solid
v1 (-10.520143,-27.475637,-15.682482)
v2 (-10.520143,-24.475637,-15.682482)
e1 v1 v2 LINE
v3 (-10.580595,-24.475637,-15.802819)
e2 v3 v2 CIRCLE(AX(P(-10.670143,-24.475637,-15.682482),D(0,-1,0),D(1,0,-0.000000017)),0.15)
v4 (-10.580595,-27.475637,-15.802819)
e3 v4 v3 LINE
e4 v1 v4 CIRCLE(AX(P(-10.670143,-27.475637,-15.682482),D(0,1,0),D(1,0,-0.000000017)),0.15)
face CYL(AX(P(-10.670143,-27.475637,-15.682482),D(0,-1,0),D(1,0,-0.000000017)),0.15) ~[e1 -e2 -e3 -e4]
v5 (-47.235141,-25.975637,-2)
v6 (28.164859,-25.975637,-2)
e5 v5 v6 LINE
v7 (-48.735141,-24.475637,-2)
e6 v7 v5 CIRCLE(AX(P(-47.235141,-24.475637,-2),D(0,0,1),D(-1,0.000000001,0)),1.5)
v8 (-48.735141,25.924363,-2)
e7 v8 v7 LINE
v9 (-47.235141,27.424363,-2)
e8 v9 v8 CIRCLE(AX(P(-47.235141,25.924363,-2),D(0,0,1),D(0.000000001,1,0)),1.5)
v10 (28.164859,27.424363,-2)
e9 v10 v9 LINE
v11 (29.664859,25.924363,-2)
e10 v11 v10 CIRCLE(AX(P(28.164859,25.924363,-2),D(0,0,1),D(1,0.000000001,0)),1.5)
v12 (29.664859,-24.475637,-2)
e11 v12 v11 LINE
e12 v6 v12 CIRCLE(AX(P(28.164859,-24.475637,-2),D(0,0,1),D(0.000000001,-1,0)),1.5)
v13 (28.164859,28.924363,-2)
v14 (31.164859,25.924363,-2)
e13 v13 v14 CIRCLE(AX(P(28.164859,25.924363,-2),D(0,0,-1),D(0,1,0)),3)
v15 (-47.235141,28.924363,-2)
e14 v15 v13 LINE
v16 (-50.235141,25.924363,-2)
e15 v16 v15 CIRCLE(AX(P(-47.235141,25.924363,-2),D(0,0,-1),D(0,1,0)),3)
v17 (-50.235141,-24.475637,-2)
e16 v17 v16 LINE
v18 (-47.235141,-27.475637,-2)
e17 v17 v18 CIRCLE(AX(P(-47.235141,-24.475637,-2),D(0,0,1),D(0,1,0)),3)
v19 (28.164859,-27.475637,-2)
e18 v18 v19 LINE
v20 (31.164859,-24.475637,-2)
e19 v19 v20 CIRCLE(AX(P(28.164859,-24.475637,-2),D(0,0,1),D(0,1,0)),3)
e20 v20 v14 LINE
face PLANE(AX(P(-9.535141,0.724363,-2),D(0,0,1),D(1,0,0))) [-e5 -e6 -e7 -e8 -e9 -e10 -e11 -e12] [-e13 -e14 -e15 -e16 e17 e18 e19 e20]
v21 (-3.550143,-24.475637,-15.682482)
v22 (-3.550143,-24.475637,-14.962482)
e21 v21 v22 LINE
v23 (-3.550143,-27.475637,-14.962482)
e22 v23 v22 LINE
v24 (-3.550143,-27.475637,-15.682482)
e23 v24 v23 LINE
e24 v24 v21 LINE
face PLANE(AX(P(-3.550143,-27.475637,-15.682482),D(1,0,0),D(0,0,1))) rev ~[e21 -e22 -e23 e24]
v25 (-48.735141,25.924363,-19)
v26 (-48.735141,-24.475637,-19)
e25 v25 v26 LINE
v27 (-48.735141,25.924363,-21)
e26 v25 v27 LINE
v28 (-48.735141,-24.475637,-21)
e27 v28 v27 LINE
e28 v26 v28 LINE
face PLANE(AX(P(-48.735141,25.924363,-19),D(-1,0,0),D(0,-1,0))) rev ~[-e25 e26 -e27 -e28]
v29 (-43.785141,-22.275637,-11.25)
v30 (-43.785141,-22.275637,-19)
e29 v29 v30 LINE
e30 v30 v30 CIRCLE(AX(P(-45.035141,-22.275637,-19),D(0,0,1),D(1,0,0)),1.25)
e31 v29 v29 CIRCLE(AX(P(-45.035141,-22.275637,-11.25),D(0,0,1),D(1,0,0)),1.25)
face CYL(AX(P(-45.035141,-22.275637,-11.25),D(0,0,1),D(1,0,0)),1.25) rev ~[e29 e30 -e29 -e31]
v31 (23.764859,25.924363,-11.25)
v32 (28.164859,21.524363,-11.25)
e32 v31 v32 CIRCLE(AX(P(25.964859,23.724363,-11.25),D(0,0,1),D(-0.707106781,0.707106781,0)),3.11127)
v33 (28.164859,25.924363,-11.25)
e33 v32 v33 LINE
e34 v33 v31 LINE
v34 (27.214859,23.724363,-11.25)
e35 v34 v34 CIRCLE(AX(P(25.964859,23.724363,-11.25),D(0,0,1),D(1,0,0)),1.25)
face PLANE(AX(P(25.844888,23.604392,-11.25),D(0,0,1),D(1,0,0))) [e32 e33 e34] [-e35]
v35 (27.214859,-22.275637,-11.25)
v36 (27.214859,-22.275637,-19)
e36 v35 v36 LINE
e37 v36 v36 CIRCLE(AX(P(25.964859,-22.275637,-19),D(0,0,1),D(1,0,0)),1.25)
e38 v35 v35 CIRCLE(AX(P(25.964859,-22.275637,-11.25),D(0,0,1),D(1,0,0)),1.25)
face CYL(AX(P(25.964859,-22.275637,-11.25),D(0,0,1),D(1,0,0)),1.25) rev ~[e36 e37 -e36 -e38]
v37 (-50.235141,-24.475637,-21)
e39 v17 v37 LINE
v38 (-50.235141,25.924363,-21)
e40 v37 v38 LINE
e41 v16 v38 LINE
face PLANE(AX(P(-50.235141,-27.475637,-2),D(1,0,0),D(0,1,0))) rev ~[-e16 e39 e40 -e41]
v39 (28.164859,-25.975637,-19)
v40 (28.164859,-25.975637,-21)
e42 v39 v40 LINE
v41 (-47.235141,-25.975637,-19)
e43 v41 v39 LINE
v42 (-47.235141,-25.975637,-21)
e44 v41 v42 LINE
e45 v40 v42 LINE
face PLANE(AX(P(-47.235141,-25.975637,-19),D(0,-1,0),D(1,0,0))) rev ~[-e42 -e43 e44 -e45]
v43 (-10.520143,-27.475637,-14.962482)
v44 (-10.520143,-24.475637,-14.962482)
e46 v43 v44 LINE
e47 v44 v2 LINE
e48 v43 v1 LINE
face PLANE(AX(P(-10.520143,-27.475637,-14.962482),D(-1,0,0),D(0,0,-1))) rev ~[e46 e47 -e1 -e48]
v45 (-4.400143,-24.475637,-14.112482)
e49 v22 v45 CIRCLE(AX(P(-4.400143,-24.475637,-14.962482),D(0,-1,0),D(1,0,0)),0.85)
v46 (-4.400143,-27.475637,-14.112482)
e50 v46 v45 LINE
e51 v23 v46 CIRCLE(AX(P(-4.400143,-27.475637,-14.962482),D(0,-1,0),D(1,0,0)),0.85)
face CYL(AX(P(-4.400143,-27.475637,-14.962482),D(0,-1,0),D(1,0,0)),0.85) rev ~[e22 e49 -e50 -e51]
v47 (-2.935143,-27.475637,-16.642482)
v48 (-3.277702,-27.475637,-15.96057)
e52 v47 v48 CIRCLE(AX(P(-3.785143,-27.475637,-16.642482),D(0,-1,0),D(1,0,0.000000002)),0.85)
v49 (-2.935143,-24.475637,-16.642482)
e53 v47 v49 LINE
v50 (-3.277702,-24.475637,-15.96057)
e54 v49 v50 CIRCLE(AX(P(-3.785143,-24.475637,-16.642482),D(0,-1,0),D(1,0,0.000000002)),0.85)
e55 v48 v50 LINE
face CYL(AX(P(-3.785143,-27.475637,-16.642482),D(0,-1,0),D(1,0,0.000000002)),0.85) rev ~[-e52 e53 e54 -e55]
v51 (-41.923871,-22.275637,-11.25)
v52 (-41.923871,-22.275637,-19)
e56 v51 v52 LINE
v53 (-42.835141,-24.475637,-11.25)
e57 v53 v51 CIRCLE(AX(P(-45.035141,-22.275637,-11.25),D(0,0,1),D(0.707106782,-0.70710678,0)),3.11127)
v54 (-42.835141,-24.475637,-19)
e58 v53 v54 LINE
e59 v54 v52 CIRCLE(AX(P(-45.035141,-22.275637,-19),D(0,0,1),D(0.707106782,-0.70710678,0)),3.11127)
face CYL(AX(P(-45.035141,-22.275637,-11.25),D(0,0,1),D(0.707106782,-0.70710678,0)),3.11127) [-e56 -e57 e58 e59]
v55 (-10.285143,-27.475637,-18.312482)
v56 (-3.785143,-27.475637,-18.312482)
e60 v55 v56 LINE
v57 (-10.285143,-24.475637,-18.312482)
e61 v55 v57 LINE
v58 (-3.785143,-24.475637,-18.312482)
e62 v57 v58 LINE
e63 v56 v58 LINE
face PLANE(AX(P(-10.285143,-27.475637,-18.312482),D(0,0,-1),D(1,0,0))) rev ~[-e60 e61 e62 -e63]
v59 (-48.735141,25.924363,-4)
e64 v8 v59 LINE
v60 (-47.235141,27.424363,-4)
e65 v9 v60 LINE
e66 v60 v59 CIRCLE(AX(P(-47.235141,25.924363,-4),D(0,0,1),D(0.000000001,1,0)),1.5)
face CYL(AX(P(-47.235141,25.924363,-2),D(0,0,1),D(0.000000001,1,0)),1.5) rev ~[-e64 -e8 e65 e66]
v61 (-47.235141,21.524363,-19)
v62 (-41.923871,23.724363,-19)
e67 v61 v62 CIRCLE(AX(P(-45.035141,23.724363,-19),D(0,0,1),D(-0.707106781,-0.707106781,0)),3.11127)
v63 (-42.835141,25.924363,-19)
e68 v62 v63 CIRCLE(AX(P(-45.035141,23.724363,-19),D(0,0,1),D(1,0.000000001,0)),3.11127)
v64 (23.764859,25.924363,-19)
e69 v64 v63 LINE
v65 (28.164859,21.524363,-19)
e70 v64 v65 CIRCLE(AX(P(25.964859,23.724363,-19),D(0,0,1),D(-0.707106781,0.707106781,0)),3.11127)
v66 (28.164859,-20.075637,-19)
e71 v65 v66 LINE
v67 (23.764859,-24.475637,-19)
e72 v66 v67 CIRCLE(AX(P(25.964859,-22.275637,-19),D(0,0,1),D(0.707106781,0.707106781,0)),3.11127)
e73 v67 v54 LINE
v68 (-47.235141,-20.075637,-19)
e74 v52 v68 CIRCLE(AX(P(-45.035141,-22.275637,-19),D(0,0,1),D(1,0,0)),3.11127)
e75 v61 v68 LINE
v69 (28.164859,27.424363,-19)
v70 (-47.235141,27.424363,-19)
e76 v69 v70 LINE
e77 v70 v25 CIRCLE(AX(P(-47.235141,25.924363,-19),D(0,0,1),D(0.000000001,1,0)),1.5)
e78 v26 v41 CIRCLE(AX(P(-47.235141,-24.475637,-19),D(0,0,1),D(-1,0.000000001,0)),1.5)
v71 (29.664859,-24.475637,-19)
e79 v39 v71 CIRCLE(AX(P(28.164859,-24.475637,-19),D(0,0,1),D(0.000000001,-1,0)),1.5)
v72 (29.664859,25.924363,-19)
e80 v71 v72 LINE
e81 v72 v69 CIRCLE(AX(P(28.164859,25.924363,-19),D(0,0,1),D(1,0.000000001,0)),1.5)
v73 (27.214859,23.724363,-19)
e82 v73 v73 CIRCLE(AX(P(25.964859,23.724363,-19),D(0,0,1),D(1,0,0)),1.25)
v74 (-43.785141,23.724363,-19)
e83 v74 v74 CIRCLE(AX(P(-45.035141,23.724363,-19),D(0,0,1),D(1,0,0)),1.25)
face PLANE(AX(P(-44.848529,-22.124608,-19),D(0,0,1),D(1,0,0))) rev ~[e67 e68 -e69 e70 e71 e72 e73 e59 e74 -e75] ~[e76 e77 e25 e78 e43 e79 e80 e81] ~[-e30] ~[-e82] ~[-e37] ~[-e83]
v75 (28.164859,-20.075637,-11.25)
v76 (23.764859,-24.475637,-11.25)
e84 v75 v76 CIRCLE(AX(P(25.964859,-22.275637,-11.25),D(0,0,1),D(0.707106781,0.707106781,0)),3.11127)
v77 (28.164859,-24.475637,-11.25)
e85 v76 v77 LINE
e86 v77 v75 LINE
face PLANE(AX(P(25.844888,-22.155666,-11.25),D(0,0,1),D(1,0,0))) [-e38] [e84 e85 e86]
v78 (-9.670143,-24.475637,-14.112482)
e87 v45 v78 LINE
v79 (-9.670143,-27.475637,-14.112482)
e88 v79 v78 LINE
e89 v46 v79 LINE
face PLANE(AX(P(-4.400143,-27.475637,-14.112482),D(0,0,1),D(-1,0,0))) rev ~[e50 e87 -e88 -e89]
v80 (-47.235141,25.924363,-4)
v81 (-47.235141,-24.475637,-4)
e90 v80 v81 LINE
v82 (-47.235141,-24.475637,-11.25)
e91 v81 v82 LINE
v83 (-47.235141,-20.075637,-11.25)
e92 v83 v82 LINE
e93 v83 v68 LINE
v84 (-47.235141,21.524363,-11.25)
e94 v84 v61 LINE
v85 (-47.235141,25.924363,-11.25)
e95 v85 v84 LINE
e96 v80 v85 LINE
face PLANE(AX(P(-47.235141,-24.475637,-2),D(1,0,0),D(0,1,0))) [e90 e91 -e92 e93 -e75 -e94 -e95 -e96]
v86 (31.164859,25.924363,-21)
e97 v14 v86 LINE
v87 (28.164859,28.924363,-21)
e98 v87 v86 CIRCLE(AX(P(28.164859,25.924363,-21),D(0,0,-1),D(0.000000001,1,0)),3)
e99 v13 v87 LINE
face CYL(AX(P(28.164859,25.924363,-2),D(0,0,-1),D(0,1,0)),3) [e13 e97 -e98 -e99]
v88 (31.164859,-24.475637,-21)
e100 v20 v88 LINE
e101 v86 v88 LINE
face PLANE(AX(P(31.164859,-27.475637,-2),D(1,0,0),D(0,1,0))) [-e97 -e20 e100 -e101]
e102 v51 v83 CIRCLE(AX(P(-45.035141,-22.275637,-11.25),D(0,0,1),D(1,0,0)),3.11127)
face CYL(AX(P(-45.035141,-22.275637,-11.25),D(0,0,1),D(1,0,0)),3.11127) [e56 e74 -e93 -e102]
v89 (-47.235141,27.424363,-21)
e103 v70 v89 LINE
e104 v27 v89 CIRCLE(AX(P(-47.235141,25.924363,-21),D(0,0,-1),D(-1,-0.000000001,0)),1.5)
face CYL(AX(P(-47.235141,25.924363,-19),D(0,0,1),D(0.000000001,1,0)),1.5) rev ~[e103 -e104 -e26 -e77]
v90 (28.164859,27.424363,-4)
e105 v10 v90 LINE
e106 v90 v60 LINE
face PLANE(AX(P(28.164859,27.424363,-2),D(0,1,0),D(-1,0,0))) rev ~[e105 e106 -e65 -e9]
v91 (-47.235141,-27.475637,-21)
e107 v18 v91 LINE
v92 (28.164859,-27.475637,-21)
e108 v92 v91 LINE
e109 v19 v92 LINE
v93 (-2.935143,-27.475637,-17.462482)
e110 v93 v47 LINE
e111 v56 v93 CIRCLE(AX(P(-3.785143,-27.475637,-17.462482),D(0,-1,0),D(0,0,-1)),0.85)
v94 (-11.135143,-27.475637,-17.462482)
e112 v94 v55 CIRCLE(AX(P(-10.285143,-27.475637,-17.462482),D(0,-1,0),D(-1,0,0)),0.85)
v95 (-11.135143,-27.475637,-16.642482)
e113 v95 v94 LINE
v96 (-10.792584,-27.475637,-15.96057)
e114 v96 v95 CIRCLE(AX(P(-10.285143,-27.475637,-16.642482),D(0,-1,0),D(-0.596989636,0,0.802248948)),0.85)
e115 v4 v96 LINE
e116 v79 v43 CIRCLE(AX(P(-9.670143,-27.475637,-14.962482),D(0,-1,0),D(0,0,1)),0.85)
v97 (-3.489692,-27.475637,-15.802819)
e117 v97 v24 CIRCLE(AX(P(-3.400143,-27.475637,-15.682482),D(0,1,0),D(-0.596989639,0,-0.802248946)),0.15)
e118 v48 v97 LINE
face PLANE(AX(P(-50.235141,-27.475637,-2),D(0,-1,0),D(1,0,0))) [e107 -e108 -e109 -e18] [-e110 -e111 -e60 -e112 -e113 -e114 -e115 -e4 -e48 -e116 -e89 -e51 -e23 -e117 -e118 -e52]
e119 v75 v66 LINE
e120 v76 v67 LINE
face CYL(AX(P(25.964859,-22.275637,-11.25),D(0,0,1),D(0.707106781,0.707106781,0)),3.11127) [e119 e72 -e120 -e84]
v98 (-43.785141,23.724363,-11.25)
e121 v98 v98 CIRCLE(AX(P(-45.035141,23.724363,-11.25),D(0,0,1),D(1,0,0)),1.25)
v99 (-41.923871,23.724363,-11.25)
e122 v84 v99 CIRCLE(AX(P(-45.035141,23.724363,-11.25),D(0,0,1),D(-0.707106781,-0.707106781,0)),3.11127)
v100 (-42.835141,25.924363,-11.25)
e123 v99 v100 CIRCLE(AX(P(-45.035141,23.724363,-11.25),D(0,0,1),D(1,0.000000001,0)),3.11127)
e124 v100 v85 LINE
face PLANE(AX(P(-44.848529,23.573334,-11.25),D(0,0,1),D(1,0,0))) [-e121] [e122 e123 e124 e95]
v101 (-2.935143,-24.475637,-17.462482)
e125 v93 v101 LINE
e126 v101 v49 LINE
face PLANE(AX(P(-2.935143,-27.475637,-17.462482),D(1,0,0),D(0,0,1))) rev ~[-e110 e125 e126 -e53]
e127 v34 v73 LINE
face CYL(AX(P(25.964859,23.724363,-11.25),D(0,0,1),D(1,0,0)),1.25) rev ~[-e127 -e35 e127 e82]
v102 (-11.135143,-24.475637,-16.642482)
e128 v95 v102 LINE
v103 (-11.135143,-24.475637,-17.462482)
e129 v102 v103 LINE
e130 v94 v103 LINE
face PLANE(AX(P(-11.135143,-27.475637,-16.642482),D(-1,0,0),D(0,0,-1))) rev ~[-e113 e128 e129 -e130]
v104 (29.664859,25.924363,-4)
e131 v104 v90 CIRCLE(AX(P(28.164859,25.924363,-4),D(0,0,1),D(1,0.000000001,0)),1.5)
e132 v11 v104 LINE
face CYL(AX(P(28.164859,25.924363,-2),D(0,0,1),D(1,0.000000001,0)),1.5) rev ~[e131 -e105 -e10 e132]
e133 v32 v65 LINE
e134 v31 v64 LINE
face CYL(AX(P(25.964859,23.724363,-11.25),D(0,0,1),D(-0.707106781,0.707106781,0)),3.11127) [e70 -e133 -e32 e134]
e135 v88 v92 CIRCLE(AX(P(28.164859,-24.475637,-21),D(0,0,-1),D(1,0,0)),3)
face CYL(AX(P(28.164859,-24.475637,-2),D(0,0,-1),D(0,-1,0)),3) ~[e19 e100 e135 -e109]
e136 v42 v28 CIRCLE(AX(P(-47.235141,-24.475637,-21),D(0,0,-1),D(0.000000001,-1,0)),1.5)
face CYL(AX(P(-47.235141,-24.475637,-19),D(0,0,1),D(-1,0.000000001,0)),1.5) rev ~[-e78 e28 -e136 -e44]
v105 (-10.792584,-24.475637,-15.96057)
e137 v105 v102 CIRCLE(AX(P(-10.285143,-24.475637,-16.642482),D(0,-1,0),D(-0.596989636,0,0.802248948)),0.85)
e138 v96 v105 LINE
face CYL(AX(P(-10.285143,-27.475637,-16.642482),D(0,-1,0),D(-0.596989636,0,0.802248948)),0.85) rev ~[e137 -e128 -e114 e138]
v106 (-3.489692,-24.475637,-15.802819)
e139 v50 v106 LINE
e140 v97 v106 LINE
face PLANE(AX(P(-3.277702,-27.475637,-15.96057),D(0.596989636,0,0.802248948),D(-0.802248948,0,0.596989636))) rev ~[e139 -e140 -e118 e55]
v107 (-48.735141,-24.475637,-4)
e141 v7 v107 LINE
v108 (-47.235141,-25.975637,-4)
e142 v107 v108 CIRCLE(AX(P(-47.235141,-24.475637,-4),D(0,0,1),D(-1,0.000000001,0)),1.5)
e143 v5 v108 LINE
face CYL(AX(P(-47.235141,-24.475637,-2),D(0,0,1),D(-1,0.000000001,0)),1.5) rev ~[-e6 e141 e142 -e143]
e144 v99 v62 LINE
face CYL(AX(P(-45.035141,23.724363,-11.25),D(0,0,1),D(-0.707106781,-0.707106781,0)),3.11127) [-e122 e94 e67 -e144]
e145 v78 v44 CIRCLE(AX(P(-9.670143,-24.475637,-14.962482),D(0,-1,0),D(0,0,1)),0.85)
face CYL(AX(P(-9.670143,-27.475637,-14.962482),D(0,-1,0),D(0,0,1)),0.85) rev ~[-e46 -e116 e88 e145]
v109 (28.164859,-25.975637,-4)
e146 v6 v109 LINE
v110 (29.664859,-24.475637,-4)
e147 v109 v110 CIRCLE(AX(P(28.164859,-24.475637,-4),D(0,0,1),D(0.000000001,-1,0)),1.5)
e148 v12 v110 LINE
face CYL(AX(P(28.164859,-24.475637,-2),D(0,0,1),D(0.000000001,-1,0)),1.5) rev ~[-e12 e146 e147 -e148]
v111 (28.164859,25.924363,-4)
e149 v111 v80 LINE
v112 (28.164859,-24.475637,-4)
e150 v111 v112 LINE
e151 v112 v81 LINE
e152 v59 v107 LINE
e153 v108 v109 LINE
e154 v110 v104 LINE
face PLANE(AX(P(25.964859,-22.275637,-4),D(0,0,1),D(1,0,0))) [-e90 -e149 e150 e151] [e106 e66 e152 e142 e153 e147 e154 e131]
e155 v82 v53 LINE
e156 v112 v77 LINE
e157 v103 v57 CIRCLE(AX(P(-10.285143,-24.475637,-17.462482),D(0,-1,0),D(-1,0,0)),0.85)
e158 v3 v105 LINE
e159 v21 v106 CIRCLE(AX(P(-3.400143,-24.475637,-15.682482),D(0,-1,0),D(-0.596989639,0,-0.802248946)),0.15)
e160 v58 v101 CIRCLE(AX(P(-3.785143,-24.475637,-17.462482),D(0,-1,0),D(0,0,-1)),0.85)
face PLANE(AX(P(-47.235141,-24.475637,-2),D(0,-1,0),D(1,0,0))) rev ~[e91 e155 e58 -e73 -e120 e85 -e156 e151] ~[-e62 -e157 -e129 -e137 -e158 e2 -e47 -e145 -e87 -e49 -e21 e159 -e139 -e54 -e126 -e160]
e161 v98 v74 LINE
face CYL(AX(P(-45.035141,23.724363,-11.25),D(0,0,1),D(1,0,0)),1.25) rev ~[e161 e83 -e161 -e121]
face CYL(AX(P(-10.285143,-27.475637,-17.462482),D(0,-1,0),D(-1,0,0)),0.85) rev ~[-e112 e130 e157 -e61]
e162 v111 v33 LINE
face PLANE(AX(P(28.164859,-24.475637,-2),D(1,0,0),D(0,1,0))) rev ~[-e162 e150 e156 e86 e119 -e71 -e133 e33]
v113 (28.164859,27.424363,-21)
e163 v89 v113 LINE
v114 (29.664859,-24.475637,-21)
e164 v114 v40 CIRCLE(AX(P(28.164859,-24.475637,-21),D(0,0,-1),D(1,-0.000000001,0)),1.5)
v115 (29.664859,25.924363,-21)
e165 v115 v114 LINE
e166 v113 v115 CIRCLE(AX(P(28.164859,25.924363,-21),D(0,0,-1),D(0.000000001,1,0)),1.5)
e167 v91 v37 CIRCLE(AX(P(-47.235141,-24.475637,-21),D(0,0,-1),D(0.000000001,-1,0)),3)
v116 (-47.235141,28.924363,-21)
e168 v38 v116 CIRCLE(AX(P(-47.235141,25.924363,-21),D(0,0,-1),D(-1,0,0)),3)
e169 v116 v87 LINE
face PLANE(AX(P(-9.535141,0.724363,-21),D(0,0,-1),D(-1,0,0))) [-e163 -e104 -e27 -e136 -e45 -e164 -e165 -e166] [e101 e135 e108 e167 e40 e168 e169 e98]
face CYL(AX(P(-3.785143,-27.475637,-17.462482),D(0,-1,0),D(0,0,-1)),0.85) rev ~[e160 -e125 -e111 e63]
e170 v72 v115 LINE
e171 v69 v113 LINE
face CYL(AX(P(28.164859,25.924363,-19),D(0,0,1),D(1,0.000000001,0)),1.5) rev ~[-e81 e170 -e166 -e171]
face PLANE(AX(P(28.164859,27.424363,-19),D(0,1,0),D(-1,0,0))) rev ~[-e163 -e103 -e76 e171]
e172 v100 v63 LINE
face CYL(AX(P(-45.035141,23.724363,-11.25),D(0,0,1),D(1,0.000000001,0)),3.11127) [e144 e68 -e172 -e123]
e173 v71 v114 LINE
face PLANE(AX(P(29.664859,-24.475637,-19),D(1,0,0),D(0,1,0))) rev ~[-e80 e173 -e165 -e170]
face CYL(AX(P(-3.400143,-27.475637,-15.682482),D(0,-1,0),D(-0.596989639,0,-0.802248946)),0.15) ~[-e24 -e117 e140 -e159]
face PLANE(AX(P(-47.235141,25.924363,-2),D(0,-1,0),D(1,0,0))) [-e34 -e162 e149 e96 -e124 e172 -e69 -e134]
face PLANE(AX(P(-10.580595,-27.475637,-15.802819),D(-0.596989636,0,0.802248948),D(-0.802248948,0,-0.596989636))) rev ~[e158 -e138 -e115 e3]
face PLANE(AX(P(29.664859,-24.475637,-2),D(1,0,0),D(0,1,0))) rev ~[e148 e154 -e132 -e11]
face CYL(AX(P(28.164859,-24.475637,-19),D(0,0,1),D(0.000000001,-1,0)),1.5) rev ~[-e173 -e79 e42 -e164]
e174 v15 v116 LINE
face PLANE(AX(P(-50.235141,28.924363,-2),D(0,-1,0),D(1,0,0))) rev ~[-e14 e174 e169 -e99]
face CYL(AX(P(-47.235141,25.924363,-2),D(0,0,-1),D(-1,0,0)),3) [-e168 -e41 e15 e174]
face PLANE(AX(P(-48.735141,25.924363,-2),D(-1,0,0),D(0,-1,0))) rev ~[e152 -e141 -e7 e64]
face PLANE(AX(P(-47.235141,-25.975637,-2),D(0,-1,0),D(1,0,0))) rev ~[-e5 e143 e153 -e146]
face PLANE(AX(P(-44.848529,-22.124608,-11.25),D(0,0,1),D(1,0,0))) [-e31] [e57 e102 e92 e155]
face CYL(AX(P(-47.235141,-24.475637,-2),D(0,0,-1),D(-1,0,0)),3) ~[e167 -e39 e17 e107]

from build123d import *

# Parameters (mm, degrees)
BOSS_EXTRUDE1_START = -2
SKETCH1_W           = 81.4
SKETCH1_H           = 56.4
SKETCH1_W_2         = 75.4
SKETCH1_H_2         = 50.4
BOSS_EXTRUDE1_DEPTH = 27
FILLET1_R           = 3
SKETCH2_R           = 1.3
CUT_EXTRUDE1_DEPTH  = 2
CUT_EXTRUDE2_START  = -17
SKETCH2_3_R         = 1.3
CUT_EXTRUDE2_DEPTH  = 10
BOSS_EXTRUDE2_START = -7.25
SKETCH3_R           = 1.25
BOSS_EXTRUDE2_DEPTH = 7.75
CUT_EXTRUDE3_DEPTH  = 28.2
CUT_EXTRUDE4_START  = -8
CUT_EXTRUDE4_DEPTH  = 8


with BuildPart() as part:
    # Sketch1 → Boss-Extrude1 (new body)
    with BuildSketch(Plane.XY.offset(BOSS_EXTRUDE1_START)):
        with Locations((-9.535141298, 0.724362859)):
            Rectangle(SKETCH1_W, SKETCH1_H)
        with Locations((-9.535141298, 0.724362859)):
            Rectangle(SKETCH1_W_2, SKETCH1_H_2, mode=Mode.SUBTRACT)
    extrude(amount=-BOSS_EXTRUDE1_DEPTH)

    # Fillet1
    fillet1_edges = [part.edges().sort_by_distance(p)[0] for p in [
        (-50.235141298, -27.475637141, -15.5),
        (-50.235141298, 28.924362859, -15.5),
        (31.164858702, 28.924362859, -15.5),
        (31.164858702, -27.475637141, -15.5),
    ]]
    fillet(fillet1_edges, radius=FILLET1_R)

    # Sketch2 → Cut-Extrude1 (cut)
    with BuildSketch(Plane.XY.offset(-2)):
        with Locations((25.964858702, -22.275637141)):
            Circle(SKETCH2_R)
        with BuildLine():
            Line((28.164858702, 27.424362859), (-47.235141298, 27.424362859))
            ThreePointArc((-47.235141298, 27.424362859), (-48.29580147, 26.985023031), (-48.735141298, 25.924362859))
            Line((-48.735141298, 25.924362859), (-48.735141298, -24.475637141))
            ThreePointArc((-48.735141298, -24.475637141), (-48.29580147, -25.536297313), (-47.235141298, -25.975637141))
            Line((-47.235141298, -25.975637141), (28.164858702, -25.975637141))
            ThreePointArc((28.164858702, -25.975637141), (29.225518873, -25.536297313), (29.664858702, -24.475637141))
            Line((29.664858702, -24.475637141), (29.664858702, 25.924362859))
            ThreePointArc((29.664858702, 25.924362859), (29.225518873, 26.985023031), (28.164858702, 27.424362859))
        make_face()
    extrude(amount=-CUT_EXTRUDE1_DEPTH, mode=Mode.SUBTRACT)

    # Sketch2<3> → Cut-Extrude2 (cut)
    with BuildSketch(Plane.XY.offset(-2).offset(CUT_EXTRUDE2_START)):
        with BuildLine():
            Line((28.164858702, 27.424362859), (-47.235141298, 27.424362859))
            ThreePointArc((-47.235141298, 27.424362859), (-48.29580147, 26.985023031), (-48.735141298, 25.924362859))
            Line((-48.735141298, 25.924362859), (-48.735141298, -24.475637141))
            ThreePointArc((-48.735141298, -24.475637141), (-48.29580147, -25.536297313), (-47.235141298, -25.975637141))
            Line((-47.235141298, -25.975637141), (28.164858702, -25.975637141))
            ThreePointArc((28.164858702, -25.975637141), (29.225518873, -25.536297313), (29.664858702, -24.475637141))
            Line((29.664858702, -24.475637141), (29.664858702, 25.924362859))
            ThreePointArc((29.664858702, 25.924362859), (29.225518873, 26.985023031), (28.164858702, 27.424362859))
        make_face()
        with Locations((25.964858702, 23.724362859)):
            Circle(SKETCH2_3_R, mode=Mode.SUBTRACT)
        with Locations((-45.035141298, 23.724362859)):
            Circle(SKETCH2_3_R, mode=Mode.SUBTRACT)
        with Locations((-45.035141298, -22.275637141)):
            Circle(SKETCH2_3_R, mode=Mode.SUBTRACT)
        with Locations((25.964858702, -22.275637141)):
            Circle(SKETCH2_3_R, mode=Mode.SUBTRACT)
    extrude(amount=-CUT_EXTRUDE2_DEPTH, mode=Mode.SUBTRACT)

    # Sketch3 → Boss-Extrude2 (add)
    # profile 1 of 4: a face of its own
    with BuildSketch(Plane.XY.offset(-4).offset(BOSS_EXTRUDE2_START)):
        with BuildLine():
            Line((-47.235141298, -24.475637141), (-42.835141298, -24.475637141))
            ThreePointArc((-42.835141298, -24.475637141), (-42.160702776, -23.466268561), (-41.923871461, -22.275637141))
            ThreePointArc((-41.923871461, -22.275637141), (-43.844509878, -19.401198618), (-47.235141298, -20.075637141))
            Line((-47.235141298, -20.075637141), (-47.235141298, -24.475637141))
        make_face()
        with Locations((-45.035141298, -22.275637141)):
            Circle(SKETCH3_R, mode=Mode.SUBTRACT)
    # profile 2 of 4: a face of its own
    with BuildSketch(Plane.XY.offset(-4).offset(BOSS_EXTRUDE2_START)):
        with BuildLine():
            ThreePointArc((-41.923871461, 23.724362859), (-42.160702776, 24.914994279), (-42.835141298, 25.924362859))
            Line((-42.835141298, 25.924362859), (-47.235141298, 25.924362859))
            Line((-47.235141298, 25.924362859), (-47.235141298, 21.524362859))
            ThreePointArc((-47.235141298, 21.524362859), (-43.844509878, 20.849924336), (-41.923871461, 23.724362859))
        make_face()
        with Locations((-45.035141298, 23.724362859)):
            Circle(SKETCH3_R, mode=Mode.SUBTRACT)
    # profile 3 of 4: a face of its own
    with BuildSketch(Plane.XY.offset(-4).offset(BOSS_EXTRUDE2_START)):
        with BuildLine():
            ThreePointArc((23.764858702, 25.924362859), (23.764858702, 21.524362859), (28.164858702, 21.524362859))
            Line((28.164858702, 21.524362859), (28.164858702, 25.924362859))
            Line((28.164858702, 25.924362859), (23.764858702, 25.924362859))
        make_face()
        with Locations((25.964858702, 23.724362859)):
            Circle(SKETCH3_R, mode=Mode.SUBTRACT)
    # profile 4 of 4: a face of its own
    with BuildSketch(Plane.XY.offset(-4).offset(BOSS_EXTRUDE2_START)):
        with BuildLine():
            Line((23.764858702, -24.475637141), (28.164858702, -24.475637141))
            Line((28.164858702, -24.475637141), (28.164858702, -20.075637141))
            ThreePointArc((28.164858702, -20.075637141), (23.764858702, -20.075637141), (23.764858702, -24.475637141))
        make_face()
        with Locations((25.964858702, -22.275637141)):
            Circle(SKETCH3_R, mode=Mode.SUBTRACT)
    extrude(amount=-BOSS_EXTRUDE2_DEPTH)

    # Sketch5 → Cut-Extrude3 (cut)
    with BuildSketch(Plane.XZ.offset(27.475637141)):
        with BuildLine():
            Line((-10.285143265, -18.312481798), (-3.785143265, -18.312481798))
            ThreePointArc((-3.785143265, -18.312481798), (-3.184102501, -18.063522562), (-2.935143265, -17.462481798))
            Line((-2.935143265, -17.462481798), (-2.935143265, -16.642481798))
            ThreePointArc((-2.935143265, -16.642481798), (-3.025595699, -16.260922505), (-3.277702075, -15.960570192))
            Line((-3.277702075, -15.960570192), (-3.489691711, -15.80281914))
            ThreePointArc((-3.489691711, -15.80281914), (-3.534181071, -15.749815791), (-3.550143265, -15.682481798))
            Line((-3.550143265, -15.682481798), (-3.550143265, -14.962481798))
            ThreePointArc((-3.550143265, -14.962481798), (-3.799102501, -14.361441034), (-4.400143265, -14.112481798))
            Line((-4.400143265, -14.112481798), (-9.670143265, -14.112481798))
            ThreePointArc((-9.670143265, -14.112481798), (-10.271184029, -14.361441034), (-10.520143265, -14.962481798))
            Line((-10.520143265, -14.962481798), (-10.520143265, -15.682481798))
            ThreePointArc((-10.520143265, -15.682481798), (-10.53610546, -15.749815791), (-10.58059482, -15.80281914))
            Line((-10.58059482, -15.80281914), (-10.792584456, -15.960570192))
            ThreePointArc((-10.792584456, -15.960570192), (-11.044690832, -16.260922505), (-11.135143265, -16.642481798))
            Line((-11.135143265, -16.642481798), (-11.135143265, -17.462481798))
            ThreePointArc((-11.135143265, -17.462481798), (-10.886184029, -18.063522562), (-10.285143265, -18.312481798))
        make_face()
    extrude(amount=-CUT_EXTRUDE3_DEPTH, mode=Mode.SUBTRACT)

    # Sketch6 → Cut-Extrude4 (cut)
    with BuildSketch(Plane(origin=(0, 0, -29), x_dir=(-1, 0, 0), z_dir=(0, 0, -1)).offset(CUT_EXTRUDE4_START)):
        with BuildLine():
            Line((50.235141298, -24.475637141), (50.235141298, 25.924362859))
            ThreePointArc((50.235141298, 25.924362859), (49.356461642, 28.045683202), (47.235141298, 28.924362859))
            Line((47.235141298, 28.924362859), (-28.164858702, 28.924362859))
            ThreePointArc((-28.164858702, 28.924362859), (-30.286179045, 28.045683202), (-31.164858702, 25.924362859))
            Line((-31.164858702, 25.924362859), (-31.164858702, -24.475637141))
            ThreePointArc((-31.164858702, -24.475637141), (-30.286179045, -26.596957485), (-28.164858702, -27.475637141))
            Line((-28.164858702, -27.475637141), (47.235141298, -27.475637141))
            ThreePointArc((47.235141298, -27.475637141), (49.356461642, -26.596957485), (50.235141298, -24.475637141))
        make_face()
        with BuildLine():
            Line((-29.664858702, 25.924362859), (-29.664858702, -24.475637141))
            ThreePointArc((-29.664858702, -24.475637141), (-29.225518873, -25.536297313), (-28.164858702, -25.975637141))
            Line((-28.164858702, -25.975637141), (47.235141298, -25.975637141))
            ThreePointArc((47.235141298, -25.975637141), (48.29580147, -25.536297313), (48.735141298, -24.475637141))
            Line((48.735141298, -24.475637141), (48.735141298, 25.924362859))
            ThreePointArc((48.735141298, 25.924362859), (48.29580147, 26.985023031), (47.235141298, 27.424362859))
            Line((47.235141298, 27.424362859), (-28.164858702, 27.424362859))
            ThreePointArc((-28.164858702, 27.424362859), (-29.225518873, 26.985023031), (-29.664858702, 25.924362859))
        make_face(mode=Mode.SUBTRACT)
    extrude(amount=CUT_EXTRUDE4_DEPTH, mode=Mode.SUBTRACT)


solid = part.part
